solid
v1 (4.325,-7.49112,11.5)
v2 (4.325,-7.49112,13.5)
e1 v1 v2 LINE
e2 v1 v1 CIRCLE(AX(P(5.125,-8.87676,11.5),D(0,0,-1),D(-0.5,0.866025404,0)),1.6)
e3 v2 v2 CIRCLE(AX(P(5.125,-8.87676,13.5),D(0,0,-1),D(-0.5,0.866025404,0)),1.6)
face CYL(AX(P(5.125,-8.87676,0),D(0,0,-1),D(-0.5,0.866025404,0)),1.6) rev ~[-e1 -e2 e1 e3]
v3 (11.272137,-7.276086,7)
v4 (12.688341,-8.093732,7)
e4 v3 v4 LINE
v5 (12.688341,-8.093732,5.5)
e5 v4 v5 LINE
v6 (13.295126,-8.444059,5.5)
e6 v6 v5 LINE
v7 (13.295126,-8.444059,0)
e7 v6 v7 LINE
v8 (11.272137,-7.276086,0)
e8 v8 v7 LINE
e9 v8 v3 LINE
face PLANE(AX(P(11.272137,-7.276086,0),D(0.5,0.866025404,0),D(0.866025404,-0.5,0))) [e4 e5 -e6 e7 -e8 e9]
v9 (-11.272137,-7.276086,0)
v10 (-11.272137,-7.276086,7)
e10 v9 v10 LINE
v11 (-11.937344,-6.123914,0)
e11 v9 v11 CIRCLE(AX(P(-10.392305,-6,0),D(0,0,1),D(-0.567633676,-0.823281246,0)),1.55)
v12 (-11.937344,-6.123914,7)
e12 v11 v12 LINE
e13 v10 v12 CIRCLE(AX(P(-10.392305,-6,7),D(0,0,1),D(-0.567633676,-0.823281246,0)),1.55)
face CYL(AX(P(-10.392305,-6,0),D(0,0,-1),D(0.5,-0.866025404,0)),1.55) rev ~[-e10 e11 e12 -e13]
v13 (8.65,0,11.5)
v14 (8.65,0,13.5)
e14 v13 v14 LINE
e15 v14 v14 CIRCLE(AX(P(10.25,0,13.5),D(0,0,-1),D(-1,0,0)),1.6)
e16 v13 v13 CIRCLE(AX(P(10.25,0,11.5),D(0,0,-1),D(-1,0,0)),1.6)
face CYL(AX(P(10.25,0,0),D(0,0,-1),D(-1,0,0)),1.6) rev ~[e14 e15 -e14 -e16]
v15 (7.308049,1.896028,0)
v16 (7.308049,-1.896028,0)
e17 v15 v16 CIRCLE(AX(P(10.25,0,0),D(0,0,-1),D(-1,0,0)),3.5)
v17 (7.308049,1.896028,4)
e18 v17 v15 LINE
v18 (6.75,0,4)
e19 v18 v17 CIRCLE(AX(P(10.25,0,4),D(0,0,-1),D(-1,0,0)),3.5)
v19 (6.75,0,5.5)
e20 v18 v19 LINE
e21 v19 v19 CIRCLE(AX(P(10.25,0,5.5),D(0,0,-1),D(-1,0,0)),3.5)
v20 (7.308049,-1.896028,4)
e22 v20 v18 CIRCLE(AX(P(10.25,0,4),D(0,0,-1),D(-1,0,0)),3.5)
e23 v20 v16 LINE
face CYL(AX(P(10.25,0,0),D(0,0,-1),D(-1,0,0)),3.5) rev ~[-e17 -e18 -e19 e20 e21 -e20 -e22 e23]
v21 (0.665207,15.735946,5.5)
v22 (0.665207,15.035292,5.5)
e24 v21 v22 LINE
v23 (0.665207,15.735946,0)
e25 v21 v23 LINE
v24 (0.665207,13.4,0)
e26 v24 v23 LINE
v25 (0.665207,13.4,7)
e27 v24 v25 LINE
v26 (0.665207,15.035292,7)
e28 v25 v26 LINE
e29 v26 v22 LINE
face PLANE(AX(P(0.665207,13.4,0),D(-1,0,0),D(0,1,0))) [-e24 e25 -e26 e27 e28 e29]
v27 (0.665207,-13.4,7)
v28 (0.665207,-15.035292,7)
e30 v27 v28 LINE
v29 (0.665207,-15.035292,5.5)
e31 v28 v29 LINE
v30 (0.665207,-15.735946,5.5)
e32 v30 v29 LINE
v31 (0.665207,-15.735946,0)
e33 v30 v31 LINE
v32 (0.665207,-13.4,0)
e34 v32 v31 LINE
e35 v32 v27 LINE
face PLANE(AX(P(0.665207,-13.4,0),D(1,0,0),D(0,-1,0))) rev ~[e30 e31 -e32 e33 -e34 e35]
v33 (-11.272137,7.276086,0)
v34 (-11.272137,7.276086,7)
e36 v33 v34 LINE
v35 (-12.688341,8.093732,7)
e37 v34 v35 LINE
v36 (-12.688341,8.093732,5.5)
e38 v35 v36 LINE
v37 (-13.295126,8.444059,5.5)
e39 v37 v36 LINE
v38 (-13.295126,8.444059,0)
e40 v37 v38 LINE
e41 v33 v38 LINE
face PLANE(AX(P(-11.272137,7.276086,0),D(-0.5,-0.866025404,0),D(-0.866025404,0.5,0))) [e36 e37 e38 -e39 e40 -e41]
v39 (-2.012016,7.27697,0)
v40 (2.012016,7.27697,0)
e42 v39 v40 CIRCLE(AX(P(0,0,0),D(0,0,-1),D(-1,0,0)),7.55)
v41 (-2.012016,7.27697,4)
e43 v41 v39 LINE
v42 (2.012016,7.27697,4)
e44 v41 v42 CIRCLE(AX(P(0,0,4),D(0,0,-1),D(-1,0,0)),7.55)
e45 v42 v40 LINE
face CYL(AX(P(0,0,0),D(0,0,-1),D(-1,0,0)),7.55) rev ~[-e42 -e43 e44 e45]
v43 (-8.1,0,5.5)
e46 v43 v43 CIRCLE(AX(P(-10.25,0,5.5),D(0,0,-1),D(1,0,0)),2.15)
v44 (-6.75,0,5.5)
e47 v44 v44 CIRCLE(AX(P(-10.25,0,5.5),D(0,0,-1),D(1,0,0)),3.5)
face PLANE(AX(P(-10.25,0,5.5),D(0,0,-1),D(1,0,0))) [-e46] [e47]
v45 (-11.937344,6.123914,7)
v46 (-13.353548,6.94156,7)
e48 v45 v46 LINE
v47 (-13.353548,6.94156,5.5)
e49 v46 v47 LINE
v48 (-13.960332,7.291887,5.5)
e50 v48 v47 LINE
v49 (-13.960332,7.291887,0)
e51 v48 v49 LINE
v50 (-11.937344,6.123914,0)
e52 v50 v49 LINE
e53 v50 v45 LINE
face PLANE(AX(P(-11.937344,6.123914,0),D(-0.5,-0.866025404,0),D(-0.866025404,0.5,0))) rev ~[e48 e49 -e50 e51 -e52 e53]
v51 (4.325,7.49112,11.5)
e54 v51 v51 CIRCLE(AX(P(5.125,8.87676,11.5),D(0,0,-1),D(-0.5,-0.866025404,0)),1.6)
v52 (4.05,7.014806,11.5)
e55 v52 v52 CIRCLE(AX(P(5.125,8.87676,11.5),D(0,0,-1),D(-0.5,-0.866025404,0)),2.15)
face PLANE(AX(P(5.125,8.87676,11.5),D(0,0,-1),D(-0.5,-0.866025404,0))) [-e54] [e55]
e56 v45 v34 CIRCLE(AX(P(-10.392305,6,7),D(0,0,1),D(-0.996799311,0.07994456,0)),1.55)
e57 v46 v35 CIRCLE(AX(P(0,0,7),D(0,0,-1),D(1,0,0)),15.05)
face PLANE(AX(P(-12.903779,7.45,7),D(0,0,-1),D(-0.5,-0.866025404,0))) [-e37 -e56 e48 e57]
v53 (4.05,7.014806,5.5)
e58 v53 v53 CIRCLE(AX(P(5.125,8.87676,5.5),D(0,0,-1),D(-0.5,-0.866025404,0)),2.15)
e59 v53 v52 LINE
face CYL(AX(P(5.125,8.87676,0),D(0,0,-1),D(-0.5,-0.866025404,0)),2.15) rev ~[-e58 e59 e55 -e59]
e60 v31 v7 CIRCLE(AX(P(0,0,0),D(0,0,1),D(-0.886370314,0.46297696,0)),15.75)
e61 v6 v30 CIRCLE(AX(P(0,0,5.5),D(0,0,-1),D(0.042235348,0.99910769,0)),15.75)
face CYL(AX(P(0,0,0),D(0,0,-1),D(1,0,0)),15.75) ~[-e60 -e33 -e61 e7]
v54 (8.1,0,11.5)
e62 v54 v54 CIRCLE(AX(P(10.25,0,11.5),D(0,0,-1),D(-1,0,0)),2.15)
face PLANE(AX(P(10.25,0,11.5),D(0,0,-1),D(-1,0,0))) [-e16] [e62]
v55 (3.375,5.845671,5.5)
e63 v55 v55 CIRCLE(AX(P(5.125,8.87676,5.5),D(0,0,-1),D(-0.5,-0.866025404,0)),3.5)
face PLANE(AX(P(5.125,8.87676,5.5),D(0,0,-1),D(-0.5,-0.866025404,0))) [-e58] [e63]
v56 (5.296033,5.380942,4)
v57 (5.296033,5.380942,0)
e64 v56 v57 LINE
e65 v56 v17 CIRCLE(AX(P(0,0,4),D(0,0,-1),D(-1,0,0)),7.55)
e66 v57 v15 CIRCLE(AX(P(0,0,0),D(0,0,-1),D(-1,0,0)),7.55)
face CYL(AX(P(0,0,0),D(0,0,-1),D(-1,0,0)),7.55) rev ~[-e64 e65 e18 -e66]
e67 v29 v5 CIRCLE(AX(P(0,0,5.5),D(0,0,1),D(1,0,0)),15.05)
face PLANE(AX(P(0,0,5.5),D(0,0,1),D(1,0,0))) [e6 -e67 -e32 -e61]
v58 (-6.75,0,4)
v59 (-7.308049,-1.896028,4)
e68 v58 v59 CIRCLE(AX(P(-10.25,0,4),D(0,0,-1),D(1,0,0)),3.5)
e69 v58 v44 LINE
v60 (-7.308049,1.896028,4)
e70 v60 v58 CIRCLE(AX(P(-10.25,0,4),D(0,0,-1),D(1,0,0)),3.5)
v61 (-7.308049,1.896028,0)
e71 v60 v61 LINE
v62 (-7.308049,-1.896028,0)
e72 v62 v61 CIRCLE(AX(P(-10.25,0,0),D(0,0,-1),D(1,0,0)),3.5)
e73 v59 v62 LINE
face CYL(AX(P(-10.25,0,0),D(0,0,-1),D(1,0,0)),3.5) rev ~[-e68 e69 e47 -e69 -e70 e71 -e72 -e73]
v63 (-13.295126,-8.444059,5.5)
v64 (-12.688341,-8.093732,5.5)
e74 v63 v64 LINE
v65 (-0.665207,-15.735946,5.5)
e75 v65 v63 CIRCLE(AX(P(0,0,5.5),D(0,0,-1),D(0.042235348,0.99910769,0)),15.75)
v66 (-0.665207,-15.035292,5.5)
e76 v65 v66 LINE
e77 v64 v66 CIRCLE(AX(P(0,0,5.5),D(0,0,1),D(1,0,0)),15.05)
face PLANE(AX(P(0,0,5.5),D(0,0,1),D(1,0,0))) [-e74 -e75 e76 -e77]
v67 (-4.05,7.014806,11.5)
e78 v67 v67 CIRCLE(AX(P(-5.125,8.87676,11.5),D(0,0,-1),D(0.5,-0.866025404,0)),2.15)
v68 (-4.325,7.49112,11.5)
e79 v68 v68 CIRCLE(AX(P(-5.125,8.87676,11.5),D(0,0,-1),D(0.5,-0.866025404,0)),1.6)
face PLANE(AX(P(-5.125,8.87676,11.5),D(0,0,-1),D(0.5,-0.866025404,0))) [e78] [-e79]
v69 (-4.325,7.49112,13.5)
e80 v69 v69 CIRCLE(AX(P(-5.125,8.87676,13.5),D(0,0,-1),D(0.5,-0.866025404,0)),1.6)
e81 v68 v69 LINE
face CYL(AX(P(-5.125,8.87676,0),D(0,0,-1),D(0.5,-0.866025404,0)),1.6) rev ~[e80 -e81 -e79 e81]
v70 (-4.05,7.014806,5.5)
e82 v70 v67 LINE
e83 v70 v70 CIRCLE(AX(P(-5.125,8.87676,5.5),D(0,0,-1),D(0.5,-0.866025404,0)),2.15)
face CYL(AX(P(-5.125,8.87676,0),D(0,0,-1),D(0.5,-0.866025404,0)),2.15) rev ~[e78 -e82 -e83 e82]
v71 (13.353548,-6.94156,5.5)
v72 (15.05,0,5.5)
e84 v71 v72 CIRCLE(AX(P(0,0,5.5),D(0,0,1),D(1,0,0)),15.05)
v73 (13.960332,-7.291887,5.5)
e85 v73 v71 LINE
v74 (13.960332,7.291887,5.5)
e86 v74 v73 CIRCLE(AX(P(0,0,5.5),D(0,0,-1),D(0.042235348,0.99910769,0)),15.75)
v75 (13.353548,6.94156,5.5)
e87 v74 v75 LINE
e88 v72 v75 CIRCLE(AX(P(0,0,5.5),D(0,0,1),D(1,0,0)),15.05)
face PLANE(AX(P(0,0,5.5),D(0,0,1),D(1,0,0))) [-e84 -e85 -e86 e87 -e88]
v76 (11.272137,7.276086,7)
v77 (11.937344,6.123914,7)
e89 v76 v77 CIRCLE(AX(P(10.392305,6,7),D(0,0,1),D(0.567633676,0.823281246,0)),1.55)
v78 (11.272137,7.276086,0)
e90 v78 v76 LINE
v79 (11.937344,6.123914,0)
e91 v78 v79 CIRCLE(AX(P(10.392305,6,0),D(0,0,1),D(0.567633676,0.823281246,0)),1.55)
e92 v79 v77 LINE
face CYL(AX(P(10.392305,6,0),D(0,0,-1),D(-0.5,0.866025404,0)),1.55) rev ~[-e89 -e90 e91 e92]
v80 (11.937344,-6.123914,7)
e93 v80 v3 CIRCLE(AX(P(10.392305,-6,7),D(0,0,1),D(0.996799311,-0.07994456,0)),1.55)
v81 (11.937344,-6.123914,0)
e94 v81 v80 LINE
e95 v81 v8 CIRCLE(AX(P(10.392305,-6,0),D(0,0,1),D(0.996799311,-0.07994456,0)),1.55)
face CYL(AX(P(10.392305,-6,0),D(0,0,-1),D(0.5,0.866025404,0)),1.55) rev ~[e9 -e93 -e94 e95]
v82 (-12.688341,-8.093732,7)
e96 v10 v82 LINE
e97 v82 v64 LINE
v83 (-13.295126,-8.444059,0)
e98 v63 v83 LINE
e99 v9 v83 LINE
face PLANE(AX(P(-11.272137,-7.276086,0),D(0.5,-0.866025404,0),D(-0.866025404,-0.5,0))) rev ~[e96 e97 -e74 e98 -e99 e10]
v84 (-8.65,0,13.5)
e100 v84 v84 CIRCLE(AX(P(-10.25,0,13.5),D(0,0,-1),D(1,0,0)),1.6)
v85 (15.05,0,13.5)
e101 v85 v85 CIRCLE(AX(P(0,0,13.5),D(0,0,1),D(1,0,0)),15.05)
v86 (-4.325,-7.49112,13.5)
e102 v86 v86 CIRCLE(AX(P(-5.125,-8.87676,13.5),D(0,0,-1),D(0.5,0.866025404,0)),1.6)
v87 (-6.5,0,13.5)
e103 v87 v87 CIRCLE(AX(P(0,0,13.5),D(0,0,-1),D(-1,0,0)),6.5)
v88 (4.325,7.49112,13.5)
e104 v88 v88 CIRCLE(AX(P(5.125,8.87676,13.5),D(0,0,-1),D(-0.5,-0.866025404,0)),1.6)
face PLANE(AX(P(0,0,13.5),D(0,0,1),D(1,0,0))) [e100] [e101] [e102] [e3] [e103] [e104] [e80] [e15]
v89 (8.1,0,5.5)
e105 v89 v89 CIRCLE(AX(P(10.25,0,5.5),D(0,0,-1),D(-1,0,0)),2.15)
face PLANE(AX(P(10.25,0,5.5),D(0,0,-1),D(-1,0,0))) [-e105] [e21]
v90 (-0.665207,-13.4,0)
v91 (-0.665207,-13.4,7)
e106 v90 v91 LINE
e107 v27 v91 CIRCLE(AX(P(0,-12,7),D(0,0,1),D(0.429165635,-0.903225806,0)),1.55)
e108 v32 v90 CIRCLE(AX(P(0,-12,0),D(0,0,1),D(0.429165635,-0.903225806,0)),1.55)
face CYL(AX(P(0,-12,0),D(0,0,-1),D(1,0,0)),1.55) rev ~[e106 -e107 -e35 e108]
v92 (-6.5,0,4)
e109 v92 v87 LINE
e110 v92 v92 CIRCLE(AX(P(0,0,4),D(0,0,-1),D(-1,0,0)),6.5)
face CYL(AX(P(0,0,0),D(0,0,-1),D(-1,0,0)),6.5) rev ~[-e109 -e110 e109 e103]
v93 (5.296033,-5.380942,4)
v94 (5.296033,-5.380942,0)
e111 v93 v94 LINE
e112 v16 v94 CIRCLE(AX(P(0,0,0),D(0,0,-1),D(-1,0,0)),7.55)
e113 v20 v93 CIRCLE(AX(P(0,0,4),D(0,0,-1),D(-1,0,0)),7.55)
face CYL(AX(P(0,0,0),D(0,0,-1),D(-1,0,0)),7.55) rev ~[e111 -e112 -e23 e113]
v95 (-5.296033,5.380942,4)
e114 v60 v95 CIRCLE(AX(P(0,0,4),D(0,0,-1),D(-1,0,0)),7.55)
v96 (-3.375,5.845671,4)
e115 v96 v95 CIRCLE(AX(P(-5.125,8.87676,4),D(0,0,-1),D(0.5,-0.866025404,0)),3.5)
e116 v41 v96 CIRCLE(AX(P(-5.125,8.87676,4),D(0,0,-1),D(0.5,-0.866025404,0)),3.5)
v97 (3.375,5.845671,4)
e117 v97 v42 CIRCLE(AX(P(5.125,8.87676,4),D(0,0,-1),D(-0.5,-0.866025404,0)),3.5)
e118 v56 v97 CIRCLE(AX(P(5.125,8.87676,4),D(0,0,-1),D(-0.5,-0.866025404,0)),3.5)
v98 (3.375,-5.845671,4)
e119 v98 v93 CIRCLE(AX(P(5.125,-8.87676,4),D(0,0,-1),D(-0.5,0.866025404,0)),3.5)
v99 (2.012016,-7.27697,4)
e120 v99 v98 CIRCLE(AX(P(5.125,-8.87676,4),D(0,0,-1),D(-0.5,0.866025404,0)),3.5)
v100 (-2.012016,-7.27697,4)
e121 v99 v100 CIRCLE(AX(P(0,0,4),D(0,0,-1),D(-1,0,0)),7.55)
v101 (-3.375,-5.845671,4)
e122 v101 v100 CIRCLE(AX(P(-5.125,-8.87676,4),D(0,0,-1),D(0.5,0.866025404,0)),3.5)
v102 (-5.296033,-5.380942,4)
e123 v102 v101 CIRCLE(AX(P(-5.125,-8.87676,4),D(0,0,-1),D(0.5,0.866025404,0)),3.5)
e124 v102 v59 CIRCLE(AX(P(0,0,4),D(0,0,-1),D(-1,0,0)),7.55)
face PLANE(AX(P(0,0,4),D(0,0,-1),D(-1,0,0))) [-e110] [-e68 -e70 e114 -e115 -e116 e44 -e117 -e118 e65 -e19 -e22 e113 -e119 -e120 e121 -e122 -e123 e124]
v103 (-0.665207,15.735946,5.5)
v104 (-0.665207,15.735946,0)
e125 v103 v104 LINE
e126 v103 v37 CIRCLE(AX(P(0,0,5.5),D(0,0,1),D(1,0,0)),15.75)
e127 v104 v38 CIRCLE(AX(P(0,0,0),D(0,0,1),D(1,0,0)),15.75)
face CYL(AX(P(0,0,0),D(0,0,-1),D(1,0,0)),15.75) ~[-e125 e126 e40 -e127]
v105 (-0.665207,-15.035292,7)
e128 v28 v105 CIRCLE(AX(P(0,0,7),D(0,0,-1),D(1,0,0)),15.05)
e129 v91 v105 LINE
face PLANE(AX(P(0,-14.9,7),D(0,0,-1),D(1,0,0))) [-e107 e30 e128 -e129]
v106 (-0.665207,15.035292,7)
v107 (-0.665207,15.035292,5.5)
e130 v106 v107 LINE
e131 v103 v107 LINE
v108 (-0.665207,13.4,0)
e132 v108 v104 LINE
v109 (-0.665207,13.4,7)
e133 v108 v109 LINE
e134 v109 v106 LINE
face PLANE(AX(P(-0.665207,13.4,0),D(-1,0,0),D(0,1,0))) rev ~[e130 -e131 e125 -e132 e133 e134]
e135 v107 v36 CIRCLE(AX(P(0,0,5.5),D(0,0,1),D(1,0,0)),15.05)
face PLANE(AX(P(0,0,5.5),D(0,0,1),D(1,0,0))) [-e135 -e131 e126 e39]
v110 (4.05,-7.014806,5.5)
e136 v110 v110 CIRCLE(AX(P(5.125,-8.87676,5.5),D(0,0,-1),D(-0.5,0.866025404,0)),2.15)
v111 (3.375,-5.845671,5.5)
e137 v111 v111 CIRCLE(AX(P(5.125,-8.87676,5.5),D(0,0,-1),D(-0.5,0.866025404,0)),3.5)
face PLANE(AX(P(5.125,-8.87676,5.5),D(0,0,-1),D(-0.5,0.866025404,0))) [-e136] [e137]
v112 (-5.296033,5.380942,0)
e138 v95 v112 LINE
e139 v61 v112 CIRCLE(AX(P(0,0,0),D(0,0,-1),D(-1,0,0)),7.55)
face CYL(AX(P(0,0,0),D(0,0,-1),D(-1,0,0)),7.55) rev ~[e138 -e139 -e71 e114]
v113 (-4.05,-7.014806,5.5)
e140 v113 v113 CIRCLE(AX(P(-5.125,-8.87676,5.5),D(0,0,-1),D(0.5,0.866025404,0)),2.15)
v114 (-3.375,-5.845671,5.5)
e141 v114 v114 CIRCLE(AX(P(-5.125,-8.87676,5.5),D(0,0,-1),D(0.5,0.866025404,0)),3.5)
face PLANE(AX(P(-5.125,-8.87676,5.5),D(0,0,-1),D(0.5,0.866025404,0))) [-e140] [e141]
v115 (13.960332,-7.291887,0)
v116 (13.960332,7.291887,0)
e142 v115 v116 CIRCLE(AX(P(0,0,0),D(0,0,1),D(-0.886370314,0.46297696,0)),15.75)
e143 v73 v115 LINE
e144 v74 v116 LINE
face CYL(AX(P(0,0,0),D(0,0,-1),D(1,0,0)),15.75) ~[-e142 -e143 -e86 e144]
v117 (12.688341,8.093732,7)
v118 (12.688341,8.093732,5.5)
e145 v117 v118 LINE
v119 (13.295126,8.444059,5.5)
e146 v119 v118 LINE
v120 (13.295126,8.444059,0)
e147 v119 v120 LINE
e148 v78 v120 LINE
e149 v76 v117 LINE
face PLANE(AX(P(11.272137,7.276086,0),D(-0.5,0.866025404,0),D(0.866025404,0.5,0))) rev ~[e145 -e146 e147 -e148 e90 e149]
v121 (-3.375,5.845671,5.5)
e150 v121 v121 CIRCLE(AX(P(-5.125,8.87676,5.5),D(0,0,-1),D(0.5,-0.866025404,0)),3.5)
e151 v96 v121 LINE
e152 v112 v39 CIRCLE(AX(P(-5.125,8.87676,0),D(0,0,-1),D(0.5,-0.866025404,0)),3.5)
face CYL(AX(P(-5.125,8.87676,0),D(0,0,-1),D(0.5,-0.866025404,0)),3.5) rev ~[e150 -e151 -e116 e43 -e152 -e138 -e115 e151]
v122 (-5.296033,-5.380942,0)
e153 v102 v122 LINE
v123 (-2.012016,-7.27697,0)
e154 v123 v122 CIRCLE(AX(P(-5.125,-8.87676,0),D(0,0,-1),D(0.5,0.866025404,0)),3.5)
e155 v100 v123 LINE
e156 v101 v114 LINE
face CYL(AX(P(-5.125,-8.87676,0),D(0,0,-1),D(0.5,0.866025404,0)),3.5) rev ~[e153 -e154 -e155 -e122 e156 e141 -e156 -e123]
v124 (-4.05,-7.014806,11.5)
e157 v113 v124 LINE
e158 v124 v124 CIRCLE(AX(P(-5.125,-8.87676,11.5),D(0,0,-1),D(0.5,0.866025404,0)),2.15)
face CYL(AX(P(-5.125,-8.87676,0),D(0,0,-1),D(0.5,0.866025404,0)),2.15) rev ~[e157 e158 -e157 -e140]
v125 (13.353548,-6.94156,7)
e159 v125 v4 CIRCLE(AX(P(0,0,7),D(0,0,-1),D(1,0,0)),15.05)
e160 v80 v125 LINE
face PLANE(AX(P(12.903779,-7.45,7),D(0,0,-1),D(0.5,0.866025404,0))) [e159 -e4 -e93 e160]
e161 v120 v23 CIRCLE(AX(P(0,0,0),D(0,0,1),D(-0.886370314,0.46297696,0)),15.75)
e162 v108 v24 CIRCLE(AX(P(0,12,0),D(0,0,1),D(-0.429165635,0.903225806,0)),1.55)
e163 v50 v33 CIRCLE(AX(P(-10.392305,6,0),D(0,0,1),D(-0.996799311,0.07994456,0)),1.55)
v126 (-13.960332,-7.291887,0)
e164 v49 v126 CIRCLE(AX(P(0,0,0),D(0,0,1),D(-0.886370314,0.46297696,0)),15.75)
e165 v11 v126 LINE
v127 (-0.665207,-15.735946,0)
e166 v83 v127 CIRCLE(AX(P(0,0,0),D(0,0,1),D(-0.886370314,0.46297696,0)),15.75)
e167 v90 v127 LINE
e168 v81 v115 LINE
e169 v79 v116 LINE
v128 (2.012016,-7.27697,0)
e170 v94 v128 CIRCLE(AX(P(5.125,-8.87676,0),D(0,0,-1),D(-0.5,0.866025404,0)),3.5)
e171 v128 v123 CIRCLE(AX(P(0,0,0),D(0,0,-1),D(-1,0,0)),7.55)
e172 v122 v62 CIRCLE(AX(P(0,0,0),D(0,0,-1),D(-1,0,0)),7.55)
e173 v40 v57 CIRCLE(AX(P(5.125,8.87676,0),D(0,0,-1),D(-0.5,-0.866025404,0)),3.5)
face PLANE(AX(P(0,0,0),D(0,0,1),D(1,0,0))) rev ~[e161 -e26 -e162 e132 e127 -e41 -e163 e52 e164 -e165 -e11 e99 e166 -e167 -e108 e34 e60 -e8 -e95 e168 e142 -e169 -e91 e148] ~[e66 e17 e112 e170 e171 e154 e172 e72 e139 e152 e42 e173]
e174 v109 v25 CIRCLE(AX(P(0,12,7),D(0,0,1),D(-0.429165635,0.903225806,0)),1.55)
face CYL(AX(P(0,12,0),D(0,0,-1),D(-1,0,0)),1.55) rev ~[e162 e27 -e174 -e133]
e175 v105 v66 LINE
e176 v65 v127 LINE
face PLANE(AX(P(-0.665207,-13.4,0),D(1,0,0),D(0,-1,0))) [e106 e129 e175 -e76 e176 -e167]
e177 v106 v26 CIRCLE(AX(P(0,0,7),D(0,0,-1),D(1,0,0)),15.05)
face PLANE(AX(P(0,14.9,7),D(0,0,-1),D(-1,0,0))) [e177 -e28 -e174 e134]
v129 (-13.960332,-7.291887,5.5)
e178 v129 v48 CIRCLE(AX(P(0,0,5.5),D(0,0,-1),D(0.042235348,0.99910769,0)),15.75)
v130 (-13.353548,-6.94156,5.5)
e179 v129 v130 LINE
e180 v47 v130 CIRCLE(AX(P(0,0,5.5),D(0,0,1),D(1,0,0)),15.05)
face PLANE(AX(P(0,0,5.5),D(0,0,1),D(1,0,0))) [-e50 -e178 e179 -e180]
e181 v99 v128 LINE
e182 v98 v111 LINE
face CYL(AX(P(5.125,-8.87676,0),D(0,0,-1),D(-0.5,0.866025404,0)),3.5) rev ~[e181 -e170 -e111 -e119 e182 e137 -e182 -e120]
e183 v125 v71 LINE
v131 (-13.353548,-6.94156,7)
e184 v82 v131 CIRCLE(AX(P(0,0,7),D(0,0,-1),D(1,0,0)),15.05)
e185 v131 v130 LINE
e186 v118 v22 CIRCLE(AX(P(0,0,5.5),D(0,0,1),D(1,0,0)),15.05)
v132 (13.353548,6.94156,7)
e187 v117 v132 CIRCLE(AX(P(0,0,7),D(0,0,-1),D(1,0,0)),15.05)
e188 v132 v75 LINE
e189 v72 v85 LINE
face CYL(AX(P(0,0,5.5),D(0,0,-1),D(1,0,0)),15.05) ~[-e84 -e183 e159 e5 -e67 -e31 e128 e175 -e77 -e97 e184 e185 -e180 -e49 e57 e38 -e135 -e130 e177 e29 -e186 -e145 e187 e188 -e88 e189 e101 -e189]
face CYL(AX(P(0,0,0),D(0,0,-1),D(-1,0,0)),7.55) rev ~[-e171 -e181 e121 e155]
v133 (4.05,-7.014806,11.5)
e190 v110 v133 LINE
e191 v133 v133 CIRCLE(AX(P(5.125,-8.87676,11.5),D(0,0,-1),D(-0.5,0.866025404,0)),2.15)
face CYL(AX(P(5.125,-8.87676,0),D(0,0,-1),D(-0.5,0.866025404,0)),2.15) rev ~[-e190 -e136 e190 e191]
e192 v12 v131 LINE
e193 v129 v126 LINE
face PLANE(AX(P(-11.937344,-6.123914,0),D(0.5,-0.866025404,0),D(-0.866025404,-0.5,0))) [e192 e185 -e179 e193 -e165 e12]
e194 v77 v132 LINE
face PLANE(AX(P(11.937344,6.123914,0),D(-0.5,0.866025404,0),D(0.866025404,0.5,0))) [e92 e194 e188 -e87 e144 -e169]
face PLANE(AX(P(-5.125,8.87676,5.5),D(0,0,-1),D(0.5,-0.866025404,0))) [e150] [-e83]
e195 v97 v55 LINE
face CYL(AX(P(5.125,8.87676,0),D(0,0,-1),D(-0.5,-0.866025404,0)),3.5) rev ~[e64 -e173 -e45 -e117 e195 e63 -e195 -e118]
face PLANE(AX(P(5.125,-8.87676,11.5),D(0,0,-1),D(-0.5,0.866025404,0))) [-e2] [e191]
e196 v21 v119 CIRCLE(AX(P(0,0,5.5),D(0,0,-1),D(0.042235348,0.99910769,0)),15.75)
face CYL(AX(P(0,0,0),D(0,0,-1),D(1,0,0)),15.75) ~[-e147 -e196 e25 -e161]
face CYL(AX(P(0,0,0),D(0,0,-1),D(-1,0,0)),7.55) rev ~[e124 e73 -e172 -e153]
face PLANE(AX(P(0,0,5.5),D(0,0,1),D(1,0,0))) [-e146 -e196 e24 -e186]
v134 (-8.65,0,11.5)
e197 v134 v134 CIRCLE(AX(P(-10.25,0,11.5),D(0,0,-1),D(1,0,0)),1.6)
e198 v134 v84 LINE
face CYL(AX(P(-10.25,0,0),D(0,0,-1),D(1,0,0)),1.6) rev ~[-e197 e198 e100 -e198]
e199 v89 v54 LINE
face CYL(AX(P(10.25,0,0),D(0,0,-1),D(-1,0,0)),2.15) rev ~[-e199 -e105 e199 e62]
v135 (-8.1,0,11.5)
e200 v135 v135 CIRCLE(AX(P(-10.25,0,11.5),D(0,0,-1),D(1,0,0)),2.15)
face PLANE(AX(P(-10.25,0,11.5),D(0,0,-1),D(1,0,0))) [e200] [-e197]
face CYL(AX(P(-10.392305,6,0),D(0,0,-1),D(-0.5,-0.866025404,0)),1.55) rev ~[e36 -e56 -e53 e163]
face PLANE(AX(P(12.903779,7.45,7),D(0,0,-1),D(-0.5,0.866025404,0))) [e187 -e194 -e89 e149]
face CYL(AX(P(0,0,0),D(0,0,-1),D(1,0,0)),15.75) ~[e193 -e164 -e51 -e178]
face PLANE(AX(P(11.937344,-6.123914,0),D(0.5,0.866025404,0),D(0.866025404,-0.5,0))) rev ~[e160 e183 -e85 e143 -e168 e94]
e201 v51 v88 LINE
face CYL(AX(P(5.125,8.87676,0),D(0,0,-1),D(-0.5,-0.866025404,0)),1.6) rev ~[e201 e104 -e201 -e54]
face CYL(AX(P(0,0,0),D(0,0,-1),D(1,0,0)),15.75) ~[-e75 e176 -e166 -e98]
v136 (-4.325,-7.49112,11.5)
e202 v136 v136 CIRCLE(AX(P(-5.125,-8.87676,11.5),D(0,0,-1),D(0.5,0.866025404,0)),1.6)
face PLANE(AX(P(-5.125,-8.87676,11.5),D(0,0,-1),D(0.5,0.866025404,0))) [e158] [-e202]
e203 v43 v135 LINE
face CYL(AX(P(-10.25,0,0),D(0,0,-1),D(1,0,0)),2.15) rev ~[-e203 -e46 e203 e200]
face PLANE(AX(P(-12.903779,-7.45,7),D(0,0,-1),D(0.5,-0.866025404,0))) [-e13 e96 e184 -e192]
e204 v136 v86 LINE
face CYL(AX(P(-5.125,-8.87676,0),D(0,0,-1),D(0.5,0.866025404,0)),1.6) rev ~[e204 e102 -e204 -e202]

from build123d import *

# Parameters (mm, degrees)
SKETCH_1_R               = 15.75
EXTRUDE_1_DEPTH          = 5.5
SKETCH_3_R               = 15.05
EXTRUDE_2_DEPTH          = 8
SKETCH_4_R               = 1.6
CUT_EXTRUDE_2_DEPTH      = 14.5
SKETCH_5_R               = 2.15
CUT_EXTRUDE_3_DEPTH      = 11.5
SKETCH_8_R               = 3.5
CUT_EXTRUDE_7_DEPTH      = 5.5
PATTERN_CIRCULAR_2_COUNT = 6
SKETCH_6_R               = 6.5
CUT_EXTRUDE_4_DEPTH      = 14.5
SKETCH_7_R               = 7.55
CUT_EXTRUDE_5_DEPTH      = 4
SKETCH_2_R               = 1.55
CUT_EXTRUDE_6_DEPTH      = 7
SKETCH_9_W               = 1.33041347
SKETCH_9_H               = 3
CUT_EXTRUDE_8_DEPTH      = 7
PATTERN_CIRCULAR_3_COUNT = 6


with BuildPart() as part:
    # 草图1 → 凸台-拉伸1 (new body)
    with BuildSketch(Plane.XY):
        Circle(SKETCH_1_R)
    extrude(amount=EXTRUDE_1_DEPTH)

    # 草图3 → 凸台-拉伸2 (add)
    with BuildSketch(Plane.XY.offset(5.5)):
        Circle(SKETCH_3_R)
    extrude(amount=EXTRUDE_2_DEPTH)

    # 草图4 → 切除-拉伸2 (cut, through all)
    with BuildSketch(Plane(origin=(0, 0, 0), x_dir=(-1, 0, 0), z_dir=(0, 0, -1))):
        with Locations((-10.25, 0)):
            Circle(SKETCH_4_R)
    cut_extrude_2 = extrude(amount=-CUT_EXTRUDE_2_DEPTH, mode=Mode.SUBTRACT)

    # 草图5 → 切除-拉伸3 (cut)
    with BuildSketch(Plane(origin=(0, 0, 0), x_dir=(-1, 0, 0), z_dir=(0, 0, -1))):
        with Locations((-10.25, 0)):
            Circle(SKETCH_5_R)
    cut_extrude_3 = extrude(amount=-CUT_EXTRUDE_3_DEPTH, mode=Mode.SUBTRACT)

    # 草图8 → 切除-拉伸7 (cut)
    with BuildSketch(Plane(origin=(0, 0, 0), x_dir=(-1, 0, 0), z_dir=(0, 0, -1))):
        with Locations((-10.25, 0)):
            Circle(SKETCH_8_R)
    cut_extrude_7 = extrude(amount=-CUT_EXTRUDE_7_DEPTH, mode=Mode.SUBTRACT)

    # 阵列(圆周)2: 切除-拉伸2, 切除-拉伸3, 切除-拉伸7 ×6 about axis
    pattern_circular_2_axis = Axis((0, 0, 0), (0, 0, 1))
    for i in range(1, PATTERN_CIRCULAR_2_COUNT):
        add(cut_extrude_2.rotate(pattern_circular_2_axis, i * 360 / PATTERN_CIRCULAR_2_COUNT), mode=Mode.SUBTRACT)
        add(cut_extrude_3.rotate(pattern_circular_2_axis, i * 360 / PATTERN_CIRCULAR_2_COUNT), mode=Mode.SUBTRACT)
        add(cut_extrude_7.rotate(pattern_circular_2_axis, i * 360 / PATTERN_CIRCULAR_2_COUNT), mode=Mode.SUBTRACT)

    # 草图6 → 切除-拉伸4 (cut, through all)
    with BuildSketch(Plane(origin=(0, 0, 0), x_dir=(-1, 0, 0), z_dir=(0, 0, -1))):
        Circle(SKETCH_6_R)
    extrude(amount=-CUT_EXTRUDE_4_DEPTH, mode=Mode.SUBTRACT)

    # 草图7 → 切除-拉伸5 (cut)
    with BuildSketch(Plane(origin=(0, 0, 0), x_dir=(-1, 0, 0), z_dir=(0, 0, -1))):
        Circle(SKETCH_7_R)
    extrude(amount=-CUT_EXTRUDE_5_DEPTH, mode=Mode.SUBTRACT)

    # 草图2 → 切除-拉伸6 (cut)
    with BuildSketch(Plane(origin=(0, 0, 0), x_dir=(-1, 0, 0), z_dir=(0, 0, -1))):
        with Locations((0, 12)):
            Circle(SKETCH_2_R)
    cut_extrude_6 = extrude(amount=-CUT_EXTRUDE_6_DEPTH, mode=Mode.SUBTRACT)

    # 草图9 → 切除-拉伸8 (cut)
    with BuildSketch(Plane(origin=(0, 0, 0), x_dir=(-1, 0, 0), z_dir=(0, 0, -1))):
        with Locations((0, 14.9)):
            Rectangle(SKETCH_9_W, SKETCH_9_H)
    cut_extrude_8 = extrude(amount=-CUT_EXTRUDE_8_DEPTH, mode=Mode.SUBTRACT)

    # 阵列(圆周)3: 切除-拉伸6, 切除-拉伸8 ×6 about axis
    pattern_circular_3_axis = Axis((0, 0, 0), (0, 0, 1))
    for i in range(1, PATTERN_CIRCULAR_3_COUNT):
        add(cut_extrude_6.rotate(pattern_circular_3_axis, i * 360 / PATTERN_CIRCULAR_3_COUNT), mode=Mode.SUBTRACT)
        add(cut_extrude_8.rotate(pattern_circular_3_axis, i * 360 / PATTERN_CIRCULAR_3_COUNT), mode=Mode.SUBTRACT)


solid = part.part
